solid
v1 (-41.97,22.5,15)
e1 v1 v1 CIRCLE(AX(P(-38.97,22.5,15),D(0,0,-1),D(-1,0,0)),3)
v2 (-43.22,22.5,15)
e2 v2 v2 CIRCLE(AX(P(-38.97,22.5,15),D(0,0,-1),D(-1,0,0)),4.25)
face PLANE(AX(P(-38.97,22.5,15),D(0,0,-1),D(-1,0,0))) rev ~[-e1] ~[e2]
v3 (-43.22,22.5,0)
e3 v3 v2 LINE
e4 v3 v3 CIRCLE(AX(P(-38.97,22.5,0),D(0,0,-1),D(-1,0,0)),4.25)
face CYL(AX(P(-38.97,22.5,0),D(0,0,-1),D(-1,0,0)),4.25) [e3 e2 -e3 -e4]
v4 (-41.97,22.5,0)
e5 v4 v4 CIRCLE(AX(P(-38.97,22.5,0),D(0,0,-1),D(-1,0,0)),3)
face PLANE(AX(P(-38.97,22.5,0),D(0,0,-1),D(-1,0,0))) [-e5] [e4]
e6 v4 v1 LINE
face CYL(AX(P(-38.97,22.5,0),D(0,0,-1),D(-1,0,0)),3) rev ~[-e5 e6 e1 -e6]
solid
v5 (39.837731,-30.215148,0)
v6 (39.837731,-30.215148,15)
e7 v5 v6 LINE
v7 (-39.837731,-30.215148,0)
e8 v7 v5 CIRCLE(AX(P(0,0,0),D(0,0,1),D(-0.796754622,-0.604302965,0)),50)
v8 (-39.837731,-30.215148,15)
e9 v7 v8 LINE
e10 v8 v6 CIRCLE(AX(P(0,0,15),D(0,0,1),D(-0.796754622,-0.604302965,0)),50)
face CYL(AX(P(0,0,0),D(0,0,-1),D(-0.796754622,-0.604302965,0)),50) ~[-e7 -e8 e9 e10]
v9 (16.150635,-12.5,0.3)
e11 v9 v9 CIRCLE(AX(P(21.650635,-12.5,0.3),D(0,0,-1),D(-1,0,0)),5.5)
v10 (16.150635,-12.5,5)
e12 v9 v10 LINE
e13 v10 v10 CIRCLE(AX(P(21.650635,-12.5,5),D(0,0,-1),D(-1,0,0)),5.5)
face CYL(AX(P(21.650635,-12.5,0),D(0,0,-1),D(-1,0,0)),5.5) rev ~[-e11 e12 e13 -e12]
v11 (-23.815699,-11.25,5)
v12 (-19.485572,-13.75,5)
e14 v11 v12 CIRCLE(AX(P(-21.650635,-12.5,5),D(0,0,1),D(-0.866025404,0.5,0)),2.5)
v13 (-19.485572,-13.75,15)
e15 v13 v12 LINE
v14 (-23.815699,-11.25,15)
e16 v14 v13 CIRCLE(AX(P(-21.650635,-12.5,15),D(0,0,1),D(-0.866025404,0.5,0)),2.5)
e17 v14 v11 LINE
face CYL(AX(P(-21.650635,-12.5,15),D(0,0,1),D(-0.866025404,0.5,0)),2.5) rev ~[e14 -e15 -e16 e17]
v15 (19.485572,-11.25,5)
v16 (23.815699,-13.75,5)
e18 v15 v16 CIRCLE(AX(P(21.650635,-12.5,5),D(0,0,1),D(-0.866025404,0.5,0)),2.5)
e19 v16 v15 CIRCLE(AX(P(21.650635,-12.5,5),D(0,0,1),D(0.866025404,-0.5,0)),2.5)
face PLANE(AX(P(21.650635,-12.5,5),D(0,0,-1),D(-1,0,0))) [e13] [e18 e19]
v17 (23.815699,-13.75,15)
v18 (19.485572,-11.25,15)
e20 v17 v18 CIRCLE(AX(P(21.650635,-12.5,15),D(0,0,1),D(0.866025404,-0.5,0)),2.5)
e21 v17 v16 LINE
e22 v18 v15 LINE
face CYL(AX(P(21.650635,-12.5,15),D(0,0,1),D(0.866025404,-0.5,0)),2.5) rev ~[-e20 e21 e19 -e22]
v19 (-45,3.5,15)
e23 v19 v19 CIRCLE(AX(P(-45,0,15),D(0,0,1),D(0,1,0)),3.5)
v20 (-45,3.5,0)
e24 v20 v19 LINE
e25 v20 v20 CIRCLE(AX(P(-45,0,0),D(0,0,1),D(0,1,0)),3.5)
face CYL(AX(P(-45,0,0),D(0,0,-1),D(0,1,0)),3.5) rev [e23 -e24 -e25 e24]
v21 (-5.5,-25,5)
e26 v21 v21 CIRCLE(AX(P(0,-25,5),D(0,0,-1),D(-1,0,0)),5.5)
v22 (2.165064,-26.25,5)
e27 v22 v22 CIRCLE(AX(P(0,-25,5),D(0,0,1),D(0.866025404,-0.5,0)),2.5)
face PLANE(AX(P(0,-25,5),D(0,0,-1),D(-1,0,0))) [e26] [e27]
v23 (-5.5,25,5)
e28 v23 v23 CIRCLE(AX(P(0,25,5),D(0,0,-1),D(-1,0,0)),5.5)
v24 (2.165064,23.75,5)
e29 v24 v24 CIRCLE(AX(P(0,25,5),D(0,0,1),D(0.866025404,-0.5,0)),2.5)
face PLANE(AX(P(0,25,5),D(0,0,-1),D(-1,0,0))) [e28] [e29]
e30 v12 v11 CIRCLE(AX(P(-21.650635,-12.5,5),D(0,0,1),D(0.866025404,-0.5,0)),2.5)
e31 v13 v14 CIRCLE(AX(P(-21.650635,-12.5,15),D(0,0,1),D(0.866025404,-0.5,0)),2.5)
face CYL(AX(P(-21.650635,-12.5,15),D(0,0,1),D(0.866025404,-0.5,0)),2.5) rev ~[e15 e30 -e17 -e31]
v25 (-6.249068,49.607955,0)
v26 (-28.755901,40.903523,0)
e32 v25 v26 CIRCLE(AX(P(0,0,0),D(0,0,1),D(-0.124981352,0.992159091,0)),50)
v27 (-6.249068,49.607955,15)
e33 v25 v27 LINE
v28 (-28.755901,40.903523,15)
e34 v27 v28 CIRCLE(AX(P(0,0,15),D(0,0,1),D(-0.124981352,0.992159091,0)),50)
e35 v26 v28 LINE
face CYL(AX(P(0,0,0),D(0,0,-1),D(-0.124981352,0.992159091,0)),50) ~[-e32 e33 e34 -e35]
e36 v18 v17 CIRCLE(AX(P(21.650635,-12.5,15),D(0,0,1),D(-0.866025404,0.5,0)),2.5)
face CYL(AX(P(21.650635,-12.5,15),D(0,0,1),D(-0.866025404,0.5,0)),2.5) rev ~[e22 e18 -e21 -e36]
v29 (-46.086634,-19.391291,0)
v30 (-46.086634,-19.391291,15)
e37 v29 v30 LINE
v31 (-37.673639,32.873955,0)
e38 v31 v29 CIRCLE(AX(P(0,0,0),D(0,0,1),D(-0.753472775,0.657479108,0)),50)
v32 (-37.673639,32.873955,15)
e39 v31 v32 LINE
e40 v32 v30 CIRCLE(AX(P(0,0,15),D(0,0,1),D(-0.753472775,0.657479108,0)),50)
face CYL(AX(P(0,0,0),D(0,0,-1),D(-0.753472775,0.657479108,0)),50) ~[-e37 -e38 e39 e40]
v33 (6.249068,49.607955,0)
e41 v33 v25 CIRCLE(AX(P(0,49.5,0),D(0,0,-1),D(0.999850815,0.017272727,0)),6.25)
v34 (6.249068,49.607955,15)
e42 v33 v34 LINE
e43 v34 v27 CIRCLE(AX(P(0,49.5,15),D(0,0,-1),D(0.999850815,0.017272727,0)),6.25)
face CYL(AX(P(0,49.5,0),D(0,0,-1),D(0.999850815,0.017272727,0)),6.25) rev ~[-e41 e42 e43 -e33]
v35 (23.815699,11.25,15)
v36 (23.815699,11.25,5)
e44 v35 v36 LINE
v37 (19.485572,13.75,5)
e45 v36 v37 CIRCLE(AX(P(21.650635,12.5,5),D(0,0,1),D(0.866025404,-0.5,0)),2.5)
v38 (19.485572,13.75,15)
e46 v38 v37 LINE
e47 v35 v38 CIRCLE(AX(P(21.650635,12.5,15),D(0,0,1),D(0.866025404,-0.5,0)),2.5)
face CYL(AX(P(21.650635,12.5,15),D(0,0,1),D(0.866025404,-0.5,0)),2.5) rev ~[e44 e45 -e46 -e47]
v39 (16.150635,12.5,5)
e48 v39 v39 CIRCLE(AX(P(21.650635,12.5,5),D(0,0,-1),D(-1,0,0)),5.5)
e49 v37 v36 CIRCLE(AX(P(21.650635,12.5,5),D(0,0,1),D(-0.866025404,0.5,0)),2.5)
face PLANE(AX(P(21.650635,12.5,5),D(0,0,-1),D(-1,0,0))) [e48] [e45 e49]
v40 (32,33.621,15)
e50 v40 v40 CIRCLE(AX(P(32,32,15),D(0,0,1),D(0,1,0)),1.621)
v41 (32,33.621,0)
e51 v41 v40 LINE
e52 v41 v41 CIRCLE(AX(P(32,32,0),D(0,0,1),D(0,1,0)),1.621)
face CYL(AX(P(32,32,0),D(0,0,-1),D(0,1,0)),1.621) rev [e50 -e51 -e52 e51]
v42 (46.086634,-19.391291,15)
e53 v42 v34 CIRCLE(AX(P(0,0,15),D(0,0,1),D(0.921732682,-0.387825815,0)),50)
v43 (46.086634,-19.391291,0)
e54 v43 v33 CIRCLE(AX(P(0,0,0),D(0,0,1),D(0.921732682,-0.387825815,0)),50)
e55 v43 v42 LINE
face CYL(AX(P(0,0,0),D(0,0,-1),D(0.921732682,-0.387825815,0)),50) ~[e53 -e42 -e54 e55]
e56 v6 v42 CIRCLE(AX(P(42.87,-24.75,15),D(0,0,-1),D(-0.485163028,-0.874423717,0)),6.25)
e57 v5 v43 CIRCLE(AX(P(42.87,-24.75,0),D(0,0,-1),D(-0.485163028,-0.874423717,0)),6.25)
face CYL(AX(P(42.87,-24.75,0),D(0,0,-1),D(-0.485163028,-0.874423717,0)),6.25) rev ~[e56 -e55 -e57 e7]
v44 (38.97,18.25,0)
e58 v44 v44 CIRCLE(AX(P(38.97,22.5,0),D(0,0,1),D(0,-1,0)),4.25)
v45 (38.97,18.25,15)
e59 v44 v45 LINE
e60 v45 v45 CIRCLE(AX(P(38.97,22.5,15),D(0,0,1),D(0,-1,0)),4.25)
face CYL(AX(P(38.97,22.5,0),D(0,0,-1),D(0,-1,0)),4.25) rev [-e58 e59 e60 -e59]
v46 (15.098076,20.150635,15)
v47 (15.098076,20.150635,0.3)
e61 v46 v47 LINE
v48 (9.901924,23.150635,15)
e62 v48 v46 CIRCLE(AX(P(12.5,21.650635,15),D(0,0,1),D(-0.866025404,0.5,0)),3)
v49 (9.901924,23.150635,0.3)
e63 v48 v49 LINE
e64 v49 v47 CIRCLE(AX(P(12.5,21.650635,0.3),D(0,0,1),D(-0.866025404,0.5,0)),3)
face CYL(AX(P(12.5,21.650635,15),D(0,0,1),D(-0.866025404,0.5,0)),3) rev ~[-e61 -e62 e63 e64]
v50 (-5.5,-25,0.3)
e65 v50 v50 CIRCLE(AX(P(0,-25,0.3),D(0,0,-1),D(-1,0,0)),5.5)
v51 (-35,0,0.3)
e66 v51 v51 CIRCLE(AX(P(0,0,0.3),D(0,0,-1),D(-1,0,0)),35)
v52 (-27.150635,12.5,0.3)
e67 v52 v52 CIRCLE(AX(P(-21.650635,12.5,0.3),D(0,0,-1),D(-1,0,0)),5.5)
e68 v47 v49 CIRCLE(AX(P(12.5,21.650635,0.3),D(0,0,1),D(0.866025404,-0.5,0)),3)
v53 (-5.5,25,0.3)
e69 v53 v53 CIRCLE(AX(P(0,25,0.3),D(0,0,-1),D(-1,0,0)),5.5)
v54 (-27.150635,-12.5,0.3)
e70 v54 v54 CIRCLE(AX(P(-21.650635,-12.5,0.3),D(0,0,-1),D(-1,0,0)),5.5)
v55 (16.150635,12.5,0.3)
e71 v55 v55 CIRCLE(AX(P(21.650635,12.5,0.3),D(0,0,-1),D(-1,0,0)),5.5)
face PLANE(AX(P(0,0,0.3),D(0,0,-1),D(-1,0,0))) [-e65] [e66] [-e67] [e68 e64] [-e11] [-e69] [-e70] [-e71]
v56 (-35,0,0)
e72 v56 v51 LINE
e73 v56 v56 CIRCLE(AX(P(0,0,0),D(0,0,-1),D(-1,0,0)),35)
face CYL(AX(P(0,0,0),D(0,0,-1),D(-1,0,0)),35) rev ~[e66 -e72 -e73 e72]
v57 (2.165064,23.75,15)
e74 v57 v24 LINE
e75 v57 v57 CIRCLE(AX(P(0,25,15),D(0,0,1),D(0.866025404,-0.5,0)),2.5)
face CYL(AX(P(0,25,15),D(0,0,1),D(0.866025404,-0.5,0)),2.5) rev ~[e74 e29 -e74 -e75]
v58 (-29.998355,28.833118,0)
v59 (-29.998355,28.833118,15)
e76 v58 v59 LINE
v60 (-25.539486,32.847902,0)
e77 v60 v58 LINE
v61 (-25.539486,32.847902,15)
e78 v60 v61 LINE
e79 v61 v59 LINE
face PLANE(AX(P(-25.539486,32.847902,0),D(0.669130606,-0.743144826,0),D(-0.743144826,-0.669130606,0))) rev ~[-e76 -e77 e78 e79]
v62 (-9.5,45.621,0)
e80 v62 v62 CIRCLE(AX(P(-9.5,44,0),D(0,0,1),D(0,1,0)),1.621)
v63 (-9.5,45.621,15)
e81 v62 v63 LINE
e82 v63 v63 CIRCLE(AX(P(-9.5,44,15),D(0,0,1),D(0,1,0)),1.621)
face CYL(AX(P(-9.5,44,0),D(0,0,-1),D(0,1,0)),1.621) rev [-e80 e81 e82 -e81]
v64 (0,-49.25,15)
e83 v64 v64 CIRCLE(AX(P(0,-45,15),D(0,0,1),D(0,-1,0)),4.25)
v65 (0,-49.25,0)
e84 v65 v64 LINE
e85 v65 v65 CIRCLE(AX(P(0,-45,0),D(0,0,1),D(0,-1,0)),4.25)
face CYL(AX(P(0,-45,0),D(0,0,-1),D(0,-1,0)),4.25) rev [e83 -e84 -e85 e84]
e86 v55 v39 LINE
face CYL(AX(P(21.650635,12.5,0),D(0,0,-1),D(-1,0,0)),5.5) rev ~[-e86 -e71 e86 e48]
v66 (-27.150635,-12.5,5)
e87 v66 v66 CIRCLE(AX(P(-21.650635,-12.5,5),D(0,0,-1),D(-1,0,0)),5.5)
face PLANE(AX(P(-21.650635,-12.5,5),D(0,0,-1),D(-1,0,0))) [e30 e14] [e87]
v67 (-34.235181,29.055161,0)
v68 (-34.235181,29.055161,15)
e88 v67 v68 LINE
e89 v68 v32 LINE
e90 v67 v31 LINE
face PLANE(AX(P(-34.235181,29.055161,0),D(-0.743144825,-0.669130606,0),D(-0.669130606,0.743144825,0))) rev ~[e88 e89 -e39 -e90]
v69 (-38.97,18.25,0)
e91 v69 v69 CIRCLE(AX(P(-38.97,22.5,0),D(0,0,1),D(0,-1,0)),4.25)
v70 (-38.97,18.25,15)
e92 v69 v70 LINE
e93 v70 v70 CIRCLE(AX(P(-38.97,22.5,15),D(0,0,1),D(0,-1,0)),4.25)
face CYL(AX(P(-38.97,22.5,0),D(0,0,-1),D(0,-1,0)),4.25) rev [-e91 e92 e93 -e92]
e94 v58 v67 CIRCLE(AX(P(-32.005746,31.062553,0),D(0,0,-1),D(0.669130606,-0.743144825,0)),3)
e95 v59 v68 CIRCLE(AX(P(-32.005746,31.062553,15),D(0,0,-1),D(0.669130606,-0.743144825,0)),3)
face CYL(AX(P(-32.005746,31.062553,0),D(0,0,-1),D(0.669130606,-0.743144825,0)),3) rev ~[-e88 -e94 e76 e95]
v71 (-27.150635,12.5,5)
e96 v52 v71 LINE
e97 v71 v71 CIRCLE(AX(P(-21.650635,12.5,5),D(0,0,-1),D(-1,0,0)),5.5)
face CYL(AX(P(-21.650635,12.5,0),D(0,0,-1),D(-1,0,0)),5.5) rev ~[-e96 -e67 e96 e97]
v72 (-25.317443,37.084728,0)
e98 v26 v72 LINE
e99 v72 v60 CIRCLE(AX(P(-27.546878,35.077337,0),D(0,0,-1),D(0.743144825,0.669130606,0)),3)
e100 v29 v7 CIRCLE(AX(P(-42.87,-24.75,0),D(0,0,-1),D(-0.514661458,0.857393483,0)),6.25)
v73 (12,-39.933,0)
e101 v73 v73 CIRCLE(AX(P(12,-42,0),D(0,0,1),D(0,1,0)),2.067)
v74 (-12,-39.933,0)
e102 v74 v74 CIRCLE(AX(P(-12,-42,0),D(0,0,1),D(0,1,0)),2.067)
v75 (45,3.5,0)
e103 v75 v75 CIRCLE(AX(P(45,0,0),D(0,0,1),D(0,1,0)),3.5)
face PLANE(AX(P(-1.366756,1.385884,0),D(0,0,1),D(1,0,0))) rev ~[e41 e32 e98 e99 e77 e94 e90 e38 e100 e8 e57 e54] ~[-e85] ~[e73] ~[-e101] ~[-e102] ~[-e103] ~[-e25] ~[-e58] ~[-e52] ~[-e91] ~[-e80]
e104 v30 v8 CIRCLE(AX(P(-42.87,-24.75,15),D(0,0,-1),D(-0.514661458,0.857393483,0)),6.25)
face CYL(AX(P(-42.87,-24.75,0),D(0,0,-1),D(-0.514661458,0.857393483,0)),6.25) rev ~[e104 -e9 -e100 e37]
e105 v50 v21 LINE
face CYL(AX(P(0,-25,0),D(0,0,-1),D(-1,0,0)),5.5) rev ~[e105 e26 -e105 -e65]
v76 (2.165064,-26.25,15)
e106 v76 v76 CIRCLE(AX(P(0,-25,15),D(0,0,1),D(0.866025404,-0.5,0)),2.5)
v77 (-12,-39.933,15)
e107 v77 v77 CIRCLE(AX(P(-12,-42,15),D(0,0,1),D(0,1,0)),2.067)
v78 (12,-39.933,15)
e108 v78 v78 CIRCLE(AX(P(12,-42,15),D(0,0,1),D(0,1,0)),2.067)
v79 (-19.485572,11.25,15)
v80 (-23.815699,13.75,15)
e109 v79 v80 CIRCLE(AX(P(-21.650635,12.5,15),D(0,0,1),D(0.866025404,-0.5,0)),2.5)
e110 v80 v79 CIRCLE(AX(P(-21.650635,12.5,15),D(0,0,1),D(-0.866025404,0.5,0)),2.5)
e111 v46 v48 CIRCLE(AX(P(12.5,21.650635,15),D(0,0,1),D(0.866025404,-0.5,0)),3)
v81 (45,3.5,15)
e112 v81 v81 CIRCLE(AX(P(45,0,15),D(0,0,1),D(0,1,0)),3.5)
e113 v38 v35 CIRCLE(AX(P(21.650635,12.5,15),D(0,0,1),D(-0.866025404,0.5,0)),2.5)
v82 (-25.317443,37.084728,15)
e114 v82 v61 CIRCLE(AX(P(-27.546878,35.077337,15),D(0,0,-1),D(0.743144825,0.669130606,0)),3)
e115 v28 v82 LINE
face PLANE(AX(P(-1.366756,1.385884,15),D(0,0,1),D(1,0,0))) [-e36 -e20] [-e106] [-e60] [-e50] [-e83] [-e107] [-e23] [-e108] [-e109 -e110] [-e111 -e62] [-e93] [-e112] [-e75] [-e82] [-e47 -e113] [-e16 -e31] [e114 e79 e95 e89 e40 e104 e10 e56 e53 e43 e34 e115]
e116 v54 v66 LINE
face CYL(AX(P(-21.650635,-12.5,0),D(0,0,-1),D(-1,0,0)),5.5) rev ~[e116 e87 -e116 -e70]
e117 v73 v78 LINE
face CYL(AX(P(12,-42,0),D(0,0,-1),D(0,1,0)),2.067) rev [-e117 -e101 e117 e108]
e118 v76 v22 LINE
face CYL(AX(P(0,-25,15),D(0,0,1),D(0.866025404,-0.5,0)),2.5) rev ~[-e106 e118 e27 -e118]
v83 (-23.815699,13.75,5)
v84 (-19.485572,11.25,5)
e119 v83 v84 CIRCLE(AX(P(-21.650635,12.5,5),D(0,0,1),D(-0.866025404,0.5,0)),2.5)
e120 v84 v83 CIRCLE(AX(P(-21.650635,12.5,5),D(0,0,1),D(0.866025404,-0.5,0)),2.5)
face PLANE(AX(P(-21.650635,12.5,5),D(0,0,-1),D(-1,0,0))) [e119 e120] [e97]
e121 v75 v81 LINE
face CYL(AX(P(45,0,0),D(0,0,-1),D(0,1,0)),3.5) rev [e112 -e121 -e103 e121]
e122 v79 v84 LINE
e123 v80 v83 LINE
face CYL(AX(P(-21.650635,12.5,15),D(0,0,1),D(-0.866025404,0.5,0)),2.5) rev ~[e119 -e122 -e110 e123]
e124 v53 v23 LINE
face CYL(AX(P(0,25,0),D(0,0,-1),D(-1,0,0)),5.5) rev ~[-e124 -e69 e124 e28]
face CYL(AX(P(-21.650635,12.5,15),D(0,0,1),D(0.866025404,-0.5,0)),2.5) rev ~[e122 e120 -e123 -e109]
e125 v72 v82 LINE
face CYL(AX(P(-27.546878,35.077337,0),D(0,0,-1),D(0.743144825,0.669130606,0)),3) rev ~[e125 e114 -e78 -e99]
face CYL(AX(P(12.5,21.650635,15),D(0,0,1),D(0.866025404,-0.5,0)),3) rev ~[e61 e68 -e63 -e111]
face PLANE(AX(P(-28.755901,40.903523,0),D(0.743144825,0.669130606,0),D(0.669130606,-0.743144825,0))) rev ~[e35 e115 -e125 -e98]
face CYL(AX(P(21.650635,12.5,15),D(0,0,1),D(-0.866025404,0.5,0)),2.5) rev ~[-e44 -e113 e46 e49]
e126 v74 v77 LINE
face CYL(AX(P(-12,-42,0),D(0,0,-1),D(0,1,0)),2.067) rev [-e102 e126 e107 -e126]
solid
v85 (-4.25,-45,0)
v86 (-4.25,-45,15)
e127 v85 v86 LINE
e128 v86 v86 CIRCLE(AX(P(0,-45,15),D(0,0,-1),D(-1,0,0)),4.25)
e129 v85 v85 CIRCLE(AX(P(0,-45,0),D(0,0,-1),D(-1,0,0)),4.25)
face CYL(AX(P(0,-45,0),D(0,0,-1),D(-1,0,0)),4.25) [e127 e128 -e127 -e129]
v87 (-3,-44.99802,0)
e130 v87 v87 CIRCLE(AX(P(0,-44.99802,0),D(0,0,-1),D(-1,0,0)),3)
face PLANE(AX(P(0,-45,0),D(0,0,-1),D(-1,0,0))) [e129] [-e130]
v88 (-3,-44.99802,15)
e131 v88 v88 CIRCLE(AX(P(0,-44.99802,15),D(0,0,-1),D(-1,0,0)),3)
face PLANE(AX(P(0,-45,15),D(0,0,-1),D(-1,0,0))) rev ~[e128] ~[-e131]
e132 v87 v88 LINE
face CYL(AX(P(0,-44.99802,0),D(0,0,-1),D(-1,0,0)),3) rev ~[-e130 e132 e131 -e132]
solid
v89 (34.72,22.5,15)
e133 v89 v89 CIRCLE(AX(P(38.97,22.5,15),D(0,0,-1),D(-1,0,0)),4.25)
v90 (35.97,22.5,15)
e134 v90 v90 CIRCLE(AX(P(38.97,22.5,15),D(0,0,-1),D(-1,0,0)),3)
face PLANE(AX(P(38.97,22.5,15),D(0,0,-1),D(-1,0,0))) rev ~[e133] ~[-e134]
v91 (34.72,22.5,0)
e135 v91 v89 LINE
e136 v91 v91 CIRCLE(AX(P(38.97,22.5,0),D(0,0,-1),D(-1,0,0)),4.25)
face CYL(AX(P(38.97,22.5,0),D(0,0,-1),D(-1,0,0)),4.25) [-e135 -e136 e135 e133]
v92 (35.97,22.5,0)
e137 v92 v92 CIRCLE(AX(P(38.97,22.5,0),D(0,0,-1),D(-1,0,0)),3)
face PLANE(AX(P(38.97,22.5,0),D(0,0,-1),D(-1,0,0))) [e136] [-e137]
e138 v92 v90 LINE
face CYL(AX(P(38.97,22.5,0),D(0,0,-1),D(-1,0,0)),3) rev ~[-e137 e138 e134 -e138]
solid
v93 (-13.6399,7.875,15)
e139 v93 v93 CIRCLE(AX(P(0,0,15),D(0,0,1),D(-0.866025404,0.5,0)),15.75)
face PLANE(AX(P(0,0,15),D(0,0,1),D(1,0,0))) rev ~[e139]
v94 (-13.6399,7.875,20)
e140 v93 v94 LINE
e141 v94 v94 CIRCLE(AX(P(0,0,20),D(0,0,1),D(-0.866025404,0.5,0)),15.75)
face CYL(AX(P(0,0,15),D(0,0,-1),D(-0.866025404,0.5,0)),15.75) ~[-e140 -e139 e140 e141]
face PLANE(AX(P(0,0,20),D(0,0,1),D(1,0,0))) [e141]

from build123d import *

# Parameters (mm, degrees)
ESTRUSIONE_ESTRUSIONE1_DEPTH   = 15
TAGLIO_ESTRUSIONE1_DEPTH       = 15
SCHIZZO3_R                     = 5.5
TAGLIO_ESTRUSIONE2_DEPTH       = 5
ESTRUSIONE_ESTRUSIONE2_DEPTH   = 5
SCHIZZO6_R                     = 35
TAGLIO_ESTRUSIONE3_DEPTH       = 0.3
SCHIZZO7_R                     = 4.25
SCHIZZO7_R_2                   = 3
ESTRUSIONE_ESTRUSIONE3_DEPTH   = 15
ESTRUSIONE_ESTRUSIONE3_2_DEPTH = 15
ESTRUSIONE_ESTRUSIONE3_3_DEPTH = 15


with BuildPart() as part:
    # Schizzo1 → Estrusione-Estrusione1 (new body)
    with BuildSketch(Plane.XY):
        with BuildLine():
            Line((-34.235180936, 29.055161096), (-37.673638759, 32.873955385))
            ThreePointArc((-37.673638759, 32.873955385), (-49.364560322, 7.946079802), (-46.086634111, -19.391290734))
            ThreePointArc((-46.086634111, -19.391290734), (-37.457286225, -21.625095267), (-39.837731078, -30.215148231))
            ThreePointArc((-39.837731078, -30.215148231), (0, -50), (39.837731078, -30.215148231))
            ThreePointArc((39.837731078, -30.215148231), (37.457286225, -21.625095267), (46.086634111, -19.391290734))
            ThreePointArc((46.086634111, -19.391290734), (43.301043643, 25.000392386), (6.249067596, 49.607954545))
            ThreePointArc((6.249067596, 49.607954545), (0, 43.25), (-6.249067596, 49.607954545))
            ThreePointArc((-6.249067596, 49.607954545), (-18.035485511, 46.633906789), (-28.755900853, 40.903522662))
            Line((-28.755900853, 40.903522662), (-25.31744303, 37.084728372))
            ThreePointArc((-25.31744303, 37.084728372), (-24.550988902, 34.920328684), (-25.539485687, 32.847902076))
            Line((-25.539485687, 32.847902076), (-29.99835464, 28.833118438))
            ThreePointArc((-29.99835464, 28.833118438), (-32.162754328, 28.06666431), (-34.235180936, 29.055161096))
        make_face()
        with BuildLine():
            ThreePointArc((32, 30.379), (33.621, 32), (32, 33.621))
            ThreePointArc((32, 33.621), (30.379, 32), (32, 30.379))
        make_face(mode=Mode.SUBTRACT)
        with BuildLine():
            ThreePointArc((-12, -44.067), (-9.933, -42), (-12, -39.933))
            ThreePointArc((-12, -39.933), (-14.067, -42), (-12, -44.067))
        make_face(mode=Mode.SUBTRACT)
        with BuildLine():
            ThreePointArc((12, -44.067), (14.067, -42), (12, -39.933))
            ThreePointArc((12, -39.933), (9.933, -42), (12, -44.067))
        make_face(mode=Mode.SUBTRACT)
        with BuildLine():
            ThreePointArc((-38.97, 26.75), (-43.22, 22.5), (-38.97, 18.25))
            ThreePointArc((-38.97, 18.25), (-34.72, 22.5), (-38.97, 26.75))
        make_face(mode=Mode.SUBTRACT)
        with BuildLine():
            ThreePointArc((38.97, 26.75), (34.72, 22.5), (38.97, 18.25))
            ThreePointArc((38.97, 18.25), (43.22, 22.5), (38.97, 26.75))
        make_face(mode=Mode.SUBTRACT)
        with BuildLine():
            ThreePointArc((0, -40.75), (-4.25, -45), (0, -49.25))
            ThreePointArc((0, -49.25), (4.25, -45), (0, -40.75))
        make_face(mode=Mode.SUBTRACT)
        with BuildLine():
            ThreePointArc((-45, -3.5), (-41.5, 0), (-45, 3.5))
            ThreePointArc((-45, 3.5), (-48.5, 0), (-45, -3.5))
        make_face(mode=Mode.SUBTRACT)
        with BuildLine():
            ThreePointArc((45, -3.5), (48.5, 0), (45, 3.5))
            ThreePointArc((45, 3.5), (41.5, 0), (45, -3.5))
        make_face(mode=Mode.SUBTRACT)
        with BuildLine():
            ThreePointArc((-9.5, 42.379), (-7.879, 44), (-9.5, 45.621))
            ThreePointArc((-9.5, 45.621), (-11.121, 44), (-9.5, 42.379))
        make_face(mode=Mode.SUBTRACT)
    extrude(amount=ESTRUSIONE_ESTRUSIONE1_DEPTH)

    # Schizzo2 → Taglio-Estrusione1 (cut)
    with BuildSketch(Plane.XY.offset(15)):
        with BuildLine():
            ThreePointArc((-2.165063509, -23.75), (-1.25, -27.165063509), (2.165063509, -26.25))
            ThreePointArc((2.165063509, -26.25), (1.25, -22.834936491), (-2.165063509, -23.75))
        make_face()
        with BuildLine():
            ThreePointArc((19.485571585, -11.25), (20.400635095, -14.665063509), (23.815698604, -13.75))
            ThreePointArc((23.815698604, -13.75), (22.900635095, -10.334936491), (19.485571585, -11.25))
        make_face()
        with BuildLine():
            ThreePointArc((19.485571585, 13.75), (20.400635095, 10.334936491), (23.815698604, 11.25))
            ThreePointArc((23.815698604, 11.25), (22.900635095, 14.665063509), (19.485571585, 13.75))
        make_face()
        with BuildLine():
            ThreePointArc((9.901923789, 23.150635095), (11, 19.052558883), (15.098076211, 20.150635095))
            ThreePointArc((15.098076211, 20.150635095), (14, 24.248711306), (9.901923789, 23.150635095))
        make_face()
        with BuildLine():
            ThreePointArc((-23.815698604, -11.25), (-22.900635095, -14.665063509), (-19.485571585, -13.75))
            ThreePointArc((-19.485571585, -13.75), (-20.400635095, -10.334936491), (-23.815698604, -11.25))
        make_face()
        with BuildLine():
            ThreePointArc((-2.165063509, 26.25), (-1.25, 22.834936491), (2.165063509, 23.75))
            ThreePointArc((2.165063509, 23.75), (1.25, 27.165063509), (-2.165063509, 26.25))
        make_face()
        with BuildLine():
            ThreePointArc((-23.815698604, 13.75), (-22.900635095, 10.334936491), (-19.485571585, 11.25))
            ThreePointArc((-19.485571585, 11.25), (-20.400635095, 14.665063509), (-23.815698604, 13.75))
        make_face()
    extrude(amount=-TAGLIO_ESTRUSIONE1_DEPTH, mode=Mode.SUBTRACT)

    # Schizzo3 → Taglio-Estrusione2 (cut)
    with BuildSketch(Plane(origin=(0, 0, 0), x_dir=(-1, 0, 0), z_dir=(0, 0, -1))):
        with Locations((0, 25)):
            Circle(SCHIZZO3_R)
        with Locations((21.650635095, 12.5)):
            Circle(SCHIZZO3_R)
        with Locations((21.650635095, -12.5)):
            Circle(SCHIZZO3_R)
        with Locations((0, -25)):
            Circle(SCHIZZO3_R)
        with Locations((-21.650635095, -12.5)):
            Circle(SCHIZZO3_R)
        with Locations((-21.650635095, 12.5)):
            Circle(SCHIZZO3_R)
    extrude(amount=-TAGLIO_ESTRUSIONE2_DEPTH, mode=Mode.SUBTRACT)

    # Schizzo6 → Taglio-Estrusione3 (cut)
    with BuildSketch(Plane(origin=(0, 0, 0), x_dir=(-1, 0, 0), z_dir=(0, 0, -1))):
        Circle(SCHIZZO6_R)
    extrude(amount=-TAGLIO_ESTRUSIONE3_DEPTH, mode=Mode.SUBTRACT)


with BuildPart() as body_2:
    # Schizzo5 → Estrusione-Estrusione2 (new body)
    with BuildSketch(Plane.XY.offset(15)):
        with BuildLine():
            ThreePointArc((13.63990011, -7.875), (7.875, 13.63990011), (-13.63990011, 7.875))
            ThreePointArc((-13.63990011, 7.875), (-7.875, -13.63990011), (13.63990011, -7.875))
        make_face()
    extrude(amount=ESTRUSIONE_ESTRUSIONE2_DEPTH)


with BuildPart() as body_3:
    # Schizzo7 → Estrusione-Estrusione3 (new body)
    with BuildSketch(Plane(origin=(0, 0, 0), x_dir=(-1, 0, 0), z_dir=(0, 0, -1))):
        with Locations((38.97, 22.5)):
            Circle(SCHIZZO7_R)
        with Locations((38.97, 22.5)):
            Circle(SCHIZZO7_R_2, mode=Mode.SUBTRACT)
    extrude(amount=-ESTRUSIONE_ESTRUSIONE3_DEPTH)


with BuildPart() as body_4:
    # Schizzo7 → Estrusione-Estrusione3 2 (new body)
    with BuildSketch(Plane(origin=(0, 0, 0), x_dir=(-1, 0, 0), z_dir=(0, 0, -1))):
        with Locations((0, -45)):
            Circle(SCHIZZO7_R)
        with Locations((0, -44.998019971)):
            Circle(SCHIZZO7_R_2, mode=Mode.SUBTRACT)
    extrude(amount=-ESTRUSIONE_ESTRUSIONE3_2_DEPTH)


with BuildPart() as body_5:
    # Schizzo7 → Estrusione-Estrusione3 3 (new body)
    with BuildSketch(Plane(origin=(0, 0, 0), x_dir=(-1, 0, 0), z_dir=(0, 0, -1))):
        with Locations((-38.97, 22.5)):
            Circle(SCHIZZO7_R)
        with Locations((-38.97, 22.5)):
            Circle(SCHIZZO7_R_2, mode=Mode.SUBTRACT)
    extrude(amount=-ESTRUSIONE_ESTRUSIONE3_3_DEPTH)


solid = Compound([part.part, body_2.part, body_3.part, body_4.part, body_5.part])
